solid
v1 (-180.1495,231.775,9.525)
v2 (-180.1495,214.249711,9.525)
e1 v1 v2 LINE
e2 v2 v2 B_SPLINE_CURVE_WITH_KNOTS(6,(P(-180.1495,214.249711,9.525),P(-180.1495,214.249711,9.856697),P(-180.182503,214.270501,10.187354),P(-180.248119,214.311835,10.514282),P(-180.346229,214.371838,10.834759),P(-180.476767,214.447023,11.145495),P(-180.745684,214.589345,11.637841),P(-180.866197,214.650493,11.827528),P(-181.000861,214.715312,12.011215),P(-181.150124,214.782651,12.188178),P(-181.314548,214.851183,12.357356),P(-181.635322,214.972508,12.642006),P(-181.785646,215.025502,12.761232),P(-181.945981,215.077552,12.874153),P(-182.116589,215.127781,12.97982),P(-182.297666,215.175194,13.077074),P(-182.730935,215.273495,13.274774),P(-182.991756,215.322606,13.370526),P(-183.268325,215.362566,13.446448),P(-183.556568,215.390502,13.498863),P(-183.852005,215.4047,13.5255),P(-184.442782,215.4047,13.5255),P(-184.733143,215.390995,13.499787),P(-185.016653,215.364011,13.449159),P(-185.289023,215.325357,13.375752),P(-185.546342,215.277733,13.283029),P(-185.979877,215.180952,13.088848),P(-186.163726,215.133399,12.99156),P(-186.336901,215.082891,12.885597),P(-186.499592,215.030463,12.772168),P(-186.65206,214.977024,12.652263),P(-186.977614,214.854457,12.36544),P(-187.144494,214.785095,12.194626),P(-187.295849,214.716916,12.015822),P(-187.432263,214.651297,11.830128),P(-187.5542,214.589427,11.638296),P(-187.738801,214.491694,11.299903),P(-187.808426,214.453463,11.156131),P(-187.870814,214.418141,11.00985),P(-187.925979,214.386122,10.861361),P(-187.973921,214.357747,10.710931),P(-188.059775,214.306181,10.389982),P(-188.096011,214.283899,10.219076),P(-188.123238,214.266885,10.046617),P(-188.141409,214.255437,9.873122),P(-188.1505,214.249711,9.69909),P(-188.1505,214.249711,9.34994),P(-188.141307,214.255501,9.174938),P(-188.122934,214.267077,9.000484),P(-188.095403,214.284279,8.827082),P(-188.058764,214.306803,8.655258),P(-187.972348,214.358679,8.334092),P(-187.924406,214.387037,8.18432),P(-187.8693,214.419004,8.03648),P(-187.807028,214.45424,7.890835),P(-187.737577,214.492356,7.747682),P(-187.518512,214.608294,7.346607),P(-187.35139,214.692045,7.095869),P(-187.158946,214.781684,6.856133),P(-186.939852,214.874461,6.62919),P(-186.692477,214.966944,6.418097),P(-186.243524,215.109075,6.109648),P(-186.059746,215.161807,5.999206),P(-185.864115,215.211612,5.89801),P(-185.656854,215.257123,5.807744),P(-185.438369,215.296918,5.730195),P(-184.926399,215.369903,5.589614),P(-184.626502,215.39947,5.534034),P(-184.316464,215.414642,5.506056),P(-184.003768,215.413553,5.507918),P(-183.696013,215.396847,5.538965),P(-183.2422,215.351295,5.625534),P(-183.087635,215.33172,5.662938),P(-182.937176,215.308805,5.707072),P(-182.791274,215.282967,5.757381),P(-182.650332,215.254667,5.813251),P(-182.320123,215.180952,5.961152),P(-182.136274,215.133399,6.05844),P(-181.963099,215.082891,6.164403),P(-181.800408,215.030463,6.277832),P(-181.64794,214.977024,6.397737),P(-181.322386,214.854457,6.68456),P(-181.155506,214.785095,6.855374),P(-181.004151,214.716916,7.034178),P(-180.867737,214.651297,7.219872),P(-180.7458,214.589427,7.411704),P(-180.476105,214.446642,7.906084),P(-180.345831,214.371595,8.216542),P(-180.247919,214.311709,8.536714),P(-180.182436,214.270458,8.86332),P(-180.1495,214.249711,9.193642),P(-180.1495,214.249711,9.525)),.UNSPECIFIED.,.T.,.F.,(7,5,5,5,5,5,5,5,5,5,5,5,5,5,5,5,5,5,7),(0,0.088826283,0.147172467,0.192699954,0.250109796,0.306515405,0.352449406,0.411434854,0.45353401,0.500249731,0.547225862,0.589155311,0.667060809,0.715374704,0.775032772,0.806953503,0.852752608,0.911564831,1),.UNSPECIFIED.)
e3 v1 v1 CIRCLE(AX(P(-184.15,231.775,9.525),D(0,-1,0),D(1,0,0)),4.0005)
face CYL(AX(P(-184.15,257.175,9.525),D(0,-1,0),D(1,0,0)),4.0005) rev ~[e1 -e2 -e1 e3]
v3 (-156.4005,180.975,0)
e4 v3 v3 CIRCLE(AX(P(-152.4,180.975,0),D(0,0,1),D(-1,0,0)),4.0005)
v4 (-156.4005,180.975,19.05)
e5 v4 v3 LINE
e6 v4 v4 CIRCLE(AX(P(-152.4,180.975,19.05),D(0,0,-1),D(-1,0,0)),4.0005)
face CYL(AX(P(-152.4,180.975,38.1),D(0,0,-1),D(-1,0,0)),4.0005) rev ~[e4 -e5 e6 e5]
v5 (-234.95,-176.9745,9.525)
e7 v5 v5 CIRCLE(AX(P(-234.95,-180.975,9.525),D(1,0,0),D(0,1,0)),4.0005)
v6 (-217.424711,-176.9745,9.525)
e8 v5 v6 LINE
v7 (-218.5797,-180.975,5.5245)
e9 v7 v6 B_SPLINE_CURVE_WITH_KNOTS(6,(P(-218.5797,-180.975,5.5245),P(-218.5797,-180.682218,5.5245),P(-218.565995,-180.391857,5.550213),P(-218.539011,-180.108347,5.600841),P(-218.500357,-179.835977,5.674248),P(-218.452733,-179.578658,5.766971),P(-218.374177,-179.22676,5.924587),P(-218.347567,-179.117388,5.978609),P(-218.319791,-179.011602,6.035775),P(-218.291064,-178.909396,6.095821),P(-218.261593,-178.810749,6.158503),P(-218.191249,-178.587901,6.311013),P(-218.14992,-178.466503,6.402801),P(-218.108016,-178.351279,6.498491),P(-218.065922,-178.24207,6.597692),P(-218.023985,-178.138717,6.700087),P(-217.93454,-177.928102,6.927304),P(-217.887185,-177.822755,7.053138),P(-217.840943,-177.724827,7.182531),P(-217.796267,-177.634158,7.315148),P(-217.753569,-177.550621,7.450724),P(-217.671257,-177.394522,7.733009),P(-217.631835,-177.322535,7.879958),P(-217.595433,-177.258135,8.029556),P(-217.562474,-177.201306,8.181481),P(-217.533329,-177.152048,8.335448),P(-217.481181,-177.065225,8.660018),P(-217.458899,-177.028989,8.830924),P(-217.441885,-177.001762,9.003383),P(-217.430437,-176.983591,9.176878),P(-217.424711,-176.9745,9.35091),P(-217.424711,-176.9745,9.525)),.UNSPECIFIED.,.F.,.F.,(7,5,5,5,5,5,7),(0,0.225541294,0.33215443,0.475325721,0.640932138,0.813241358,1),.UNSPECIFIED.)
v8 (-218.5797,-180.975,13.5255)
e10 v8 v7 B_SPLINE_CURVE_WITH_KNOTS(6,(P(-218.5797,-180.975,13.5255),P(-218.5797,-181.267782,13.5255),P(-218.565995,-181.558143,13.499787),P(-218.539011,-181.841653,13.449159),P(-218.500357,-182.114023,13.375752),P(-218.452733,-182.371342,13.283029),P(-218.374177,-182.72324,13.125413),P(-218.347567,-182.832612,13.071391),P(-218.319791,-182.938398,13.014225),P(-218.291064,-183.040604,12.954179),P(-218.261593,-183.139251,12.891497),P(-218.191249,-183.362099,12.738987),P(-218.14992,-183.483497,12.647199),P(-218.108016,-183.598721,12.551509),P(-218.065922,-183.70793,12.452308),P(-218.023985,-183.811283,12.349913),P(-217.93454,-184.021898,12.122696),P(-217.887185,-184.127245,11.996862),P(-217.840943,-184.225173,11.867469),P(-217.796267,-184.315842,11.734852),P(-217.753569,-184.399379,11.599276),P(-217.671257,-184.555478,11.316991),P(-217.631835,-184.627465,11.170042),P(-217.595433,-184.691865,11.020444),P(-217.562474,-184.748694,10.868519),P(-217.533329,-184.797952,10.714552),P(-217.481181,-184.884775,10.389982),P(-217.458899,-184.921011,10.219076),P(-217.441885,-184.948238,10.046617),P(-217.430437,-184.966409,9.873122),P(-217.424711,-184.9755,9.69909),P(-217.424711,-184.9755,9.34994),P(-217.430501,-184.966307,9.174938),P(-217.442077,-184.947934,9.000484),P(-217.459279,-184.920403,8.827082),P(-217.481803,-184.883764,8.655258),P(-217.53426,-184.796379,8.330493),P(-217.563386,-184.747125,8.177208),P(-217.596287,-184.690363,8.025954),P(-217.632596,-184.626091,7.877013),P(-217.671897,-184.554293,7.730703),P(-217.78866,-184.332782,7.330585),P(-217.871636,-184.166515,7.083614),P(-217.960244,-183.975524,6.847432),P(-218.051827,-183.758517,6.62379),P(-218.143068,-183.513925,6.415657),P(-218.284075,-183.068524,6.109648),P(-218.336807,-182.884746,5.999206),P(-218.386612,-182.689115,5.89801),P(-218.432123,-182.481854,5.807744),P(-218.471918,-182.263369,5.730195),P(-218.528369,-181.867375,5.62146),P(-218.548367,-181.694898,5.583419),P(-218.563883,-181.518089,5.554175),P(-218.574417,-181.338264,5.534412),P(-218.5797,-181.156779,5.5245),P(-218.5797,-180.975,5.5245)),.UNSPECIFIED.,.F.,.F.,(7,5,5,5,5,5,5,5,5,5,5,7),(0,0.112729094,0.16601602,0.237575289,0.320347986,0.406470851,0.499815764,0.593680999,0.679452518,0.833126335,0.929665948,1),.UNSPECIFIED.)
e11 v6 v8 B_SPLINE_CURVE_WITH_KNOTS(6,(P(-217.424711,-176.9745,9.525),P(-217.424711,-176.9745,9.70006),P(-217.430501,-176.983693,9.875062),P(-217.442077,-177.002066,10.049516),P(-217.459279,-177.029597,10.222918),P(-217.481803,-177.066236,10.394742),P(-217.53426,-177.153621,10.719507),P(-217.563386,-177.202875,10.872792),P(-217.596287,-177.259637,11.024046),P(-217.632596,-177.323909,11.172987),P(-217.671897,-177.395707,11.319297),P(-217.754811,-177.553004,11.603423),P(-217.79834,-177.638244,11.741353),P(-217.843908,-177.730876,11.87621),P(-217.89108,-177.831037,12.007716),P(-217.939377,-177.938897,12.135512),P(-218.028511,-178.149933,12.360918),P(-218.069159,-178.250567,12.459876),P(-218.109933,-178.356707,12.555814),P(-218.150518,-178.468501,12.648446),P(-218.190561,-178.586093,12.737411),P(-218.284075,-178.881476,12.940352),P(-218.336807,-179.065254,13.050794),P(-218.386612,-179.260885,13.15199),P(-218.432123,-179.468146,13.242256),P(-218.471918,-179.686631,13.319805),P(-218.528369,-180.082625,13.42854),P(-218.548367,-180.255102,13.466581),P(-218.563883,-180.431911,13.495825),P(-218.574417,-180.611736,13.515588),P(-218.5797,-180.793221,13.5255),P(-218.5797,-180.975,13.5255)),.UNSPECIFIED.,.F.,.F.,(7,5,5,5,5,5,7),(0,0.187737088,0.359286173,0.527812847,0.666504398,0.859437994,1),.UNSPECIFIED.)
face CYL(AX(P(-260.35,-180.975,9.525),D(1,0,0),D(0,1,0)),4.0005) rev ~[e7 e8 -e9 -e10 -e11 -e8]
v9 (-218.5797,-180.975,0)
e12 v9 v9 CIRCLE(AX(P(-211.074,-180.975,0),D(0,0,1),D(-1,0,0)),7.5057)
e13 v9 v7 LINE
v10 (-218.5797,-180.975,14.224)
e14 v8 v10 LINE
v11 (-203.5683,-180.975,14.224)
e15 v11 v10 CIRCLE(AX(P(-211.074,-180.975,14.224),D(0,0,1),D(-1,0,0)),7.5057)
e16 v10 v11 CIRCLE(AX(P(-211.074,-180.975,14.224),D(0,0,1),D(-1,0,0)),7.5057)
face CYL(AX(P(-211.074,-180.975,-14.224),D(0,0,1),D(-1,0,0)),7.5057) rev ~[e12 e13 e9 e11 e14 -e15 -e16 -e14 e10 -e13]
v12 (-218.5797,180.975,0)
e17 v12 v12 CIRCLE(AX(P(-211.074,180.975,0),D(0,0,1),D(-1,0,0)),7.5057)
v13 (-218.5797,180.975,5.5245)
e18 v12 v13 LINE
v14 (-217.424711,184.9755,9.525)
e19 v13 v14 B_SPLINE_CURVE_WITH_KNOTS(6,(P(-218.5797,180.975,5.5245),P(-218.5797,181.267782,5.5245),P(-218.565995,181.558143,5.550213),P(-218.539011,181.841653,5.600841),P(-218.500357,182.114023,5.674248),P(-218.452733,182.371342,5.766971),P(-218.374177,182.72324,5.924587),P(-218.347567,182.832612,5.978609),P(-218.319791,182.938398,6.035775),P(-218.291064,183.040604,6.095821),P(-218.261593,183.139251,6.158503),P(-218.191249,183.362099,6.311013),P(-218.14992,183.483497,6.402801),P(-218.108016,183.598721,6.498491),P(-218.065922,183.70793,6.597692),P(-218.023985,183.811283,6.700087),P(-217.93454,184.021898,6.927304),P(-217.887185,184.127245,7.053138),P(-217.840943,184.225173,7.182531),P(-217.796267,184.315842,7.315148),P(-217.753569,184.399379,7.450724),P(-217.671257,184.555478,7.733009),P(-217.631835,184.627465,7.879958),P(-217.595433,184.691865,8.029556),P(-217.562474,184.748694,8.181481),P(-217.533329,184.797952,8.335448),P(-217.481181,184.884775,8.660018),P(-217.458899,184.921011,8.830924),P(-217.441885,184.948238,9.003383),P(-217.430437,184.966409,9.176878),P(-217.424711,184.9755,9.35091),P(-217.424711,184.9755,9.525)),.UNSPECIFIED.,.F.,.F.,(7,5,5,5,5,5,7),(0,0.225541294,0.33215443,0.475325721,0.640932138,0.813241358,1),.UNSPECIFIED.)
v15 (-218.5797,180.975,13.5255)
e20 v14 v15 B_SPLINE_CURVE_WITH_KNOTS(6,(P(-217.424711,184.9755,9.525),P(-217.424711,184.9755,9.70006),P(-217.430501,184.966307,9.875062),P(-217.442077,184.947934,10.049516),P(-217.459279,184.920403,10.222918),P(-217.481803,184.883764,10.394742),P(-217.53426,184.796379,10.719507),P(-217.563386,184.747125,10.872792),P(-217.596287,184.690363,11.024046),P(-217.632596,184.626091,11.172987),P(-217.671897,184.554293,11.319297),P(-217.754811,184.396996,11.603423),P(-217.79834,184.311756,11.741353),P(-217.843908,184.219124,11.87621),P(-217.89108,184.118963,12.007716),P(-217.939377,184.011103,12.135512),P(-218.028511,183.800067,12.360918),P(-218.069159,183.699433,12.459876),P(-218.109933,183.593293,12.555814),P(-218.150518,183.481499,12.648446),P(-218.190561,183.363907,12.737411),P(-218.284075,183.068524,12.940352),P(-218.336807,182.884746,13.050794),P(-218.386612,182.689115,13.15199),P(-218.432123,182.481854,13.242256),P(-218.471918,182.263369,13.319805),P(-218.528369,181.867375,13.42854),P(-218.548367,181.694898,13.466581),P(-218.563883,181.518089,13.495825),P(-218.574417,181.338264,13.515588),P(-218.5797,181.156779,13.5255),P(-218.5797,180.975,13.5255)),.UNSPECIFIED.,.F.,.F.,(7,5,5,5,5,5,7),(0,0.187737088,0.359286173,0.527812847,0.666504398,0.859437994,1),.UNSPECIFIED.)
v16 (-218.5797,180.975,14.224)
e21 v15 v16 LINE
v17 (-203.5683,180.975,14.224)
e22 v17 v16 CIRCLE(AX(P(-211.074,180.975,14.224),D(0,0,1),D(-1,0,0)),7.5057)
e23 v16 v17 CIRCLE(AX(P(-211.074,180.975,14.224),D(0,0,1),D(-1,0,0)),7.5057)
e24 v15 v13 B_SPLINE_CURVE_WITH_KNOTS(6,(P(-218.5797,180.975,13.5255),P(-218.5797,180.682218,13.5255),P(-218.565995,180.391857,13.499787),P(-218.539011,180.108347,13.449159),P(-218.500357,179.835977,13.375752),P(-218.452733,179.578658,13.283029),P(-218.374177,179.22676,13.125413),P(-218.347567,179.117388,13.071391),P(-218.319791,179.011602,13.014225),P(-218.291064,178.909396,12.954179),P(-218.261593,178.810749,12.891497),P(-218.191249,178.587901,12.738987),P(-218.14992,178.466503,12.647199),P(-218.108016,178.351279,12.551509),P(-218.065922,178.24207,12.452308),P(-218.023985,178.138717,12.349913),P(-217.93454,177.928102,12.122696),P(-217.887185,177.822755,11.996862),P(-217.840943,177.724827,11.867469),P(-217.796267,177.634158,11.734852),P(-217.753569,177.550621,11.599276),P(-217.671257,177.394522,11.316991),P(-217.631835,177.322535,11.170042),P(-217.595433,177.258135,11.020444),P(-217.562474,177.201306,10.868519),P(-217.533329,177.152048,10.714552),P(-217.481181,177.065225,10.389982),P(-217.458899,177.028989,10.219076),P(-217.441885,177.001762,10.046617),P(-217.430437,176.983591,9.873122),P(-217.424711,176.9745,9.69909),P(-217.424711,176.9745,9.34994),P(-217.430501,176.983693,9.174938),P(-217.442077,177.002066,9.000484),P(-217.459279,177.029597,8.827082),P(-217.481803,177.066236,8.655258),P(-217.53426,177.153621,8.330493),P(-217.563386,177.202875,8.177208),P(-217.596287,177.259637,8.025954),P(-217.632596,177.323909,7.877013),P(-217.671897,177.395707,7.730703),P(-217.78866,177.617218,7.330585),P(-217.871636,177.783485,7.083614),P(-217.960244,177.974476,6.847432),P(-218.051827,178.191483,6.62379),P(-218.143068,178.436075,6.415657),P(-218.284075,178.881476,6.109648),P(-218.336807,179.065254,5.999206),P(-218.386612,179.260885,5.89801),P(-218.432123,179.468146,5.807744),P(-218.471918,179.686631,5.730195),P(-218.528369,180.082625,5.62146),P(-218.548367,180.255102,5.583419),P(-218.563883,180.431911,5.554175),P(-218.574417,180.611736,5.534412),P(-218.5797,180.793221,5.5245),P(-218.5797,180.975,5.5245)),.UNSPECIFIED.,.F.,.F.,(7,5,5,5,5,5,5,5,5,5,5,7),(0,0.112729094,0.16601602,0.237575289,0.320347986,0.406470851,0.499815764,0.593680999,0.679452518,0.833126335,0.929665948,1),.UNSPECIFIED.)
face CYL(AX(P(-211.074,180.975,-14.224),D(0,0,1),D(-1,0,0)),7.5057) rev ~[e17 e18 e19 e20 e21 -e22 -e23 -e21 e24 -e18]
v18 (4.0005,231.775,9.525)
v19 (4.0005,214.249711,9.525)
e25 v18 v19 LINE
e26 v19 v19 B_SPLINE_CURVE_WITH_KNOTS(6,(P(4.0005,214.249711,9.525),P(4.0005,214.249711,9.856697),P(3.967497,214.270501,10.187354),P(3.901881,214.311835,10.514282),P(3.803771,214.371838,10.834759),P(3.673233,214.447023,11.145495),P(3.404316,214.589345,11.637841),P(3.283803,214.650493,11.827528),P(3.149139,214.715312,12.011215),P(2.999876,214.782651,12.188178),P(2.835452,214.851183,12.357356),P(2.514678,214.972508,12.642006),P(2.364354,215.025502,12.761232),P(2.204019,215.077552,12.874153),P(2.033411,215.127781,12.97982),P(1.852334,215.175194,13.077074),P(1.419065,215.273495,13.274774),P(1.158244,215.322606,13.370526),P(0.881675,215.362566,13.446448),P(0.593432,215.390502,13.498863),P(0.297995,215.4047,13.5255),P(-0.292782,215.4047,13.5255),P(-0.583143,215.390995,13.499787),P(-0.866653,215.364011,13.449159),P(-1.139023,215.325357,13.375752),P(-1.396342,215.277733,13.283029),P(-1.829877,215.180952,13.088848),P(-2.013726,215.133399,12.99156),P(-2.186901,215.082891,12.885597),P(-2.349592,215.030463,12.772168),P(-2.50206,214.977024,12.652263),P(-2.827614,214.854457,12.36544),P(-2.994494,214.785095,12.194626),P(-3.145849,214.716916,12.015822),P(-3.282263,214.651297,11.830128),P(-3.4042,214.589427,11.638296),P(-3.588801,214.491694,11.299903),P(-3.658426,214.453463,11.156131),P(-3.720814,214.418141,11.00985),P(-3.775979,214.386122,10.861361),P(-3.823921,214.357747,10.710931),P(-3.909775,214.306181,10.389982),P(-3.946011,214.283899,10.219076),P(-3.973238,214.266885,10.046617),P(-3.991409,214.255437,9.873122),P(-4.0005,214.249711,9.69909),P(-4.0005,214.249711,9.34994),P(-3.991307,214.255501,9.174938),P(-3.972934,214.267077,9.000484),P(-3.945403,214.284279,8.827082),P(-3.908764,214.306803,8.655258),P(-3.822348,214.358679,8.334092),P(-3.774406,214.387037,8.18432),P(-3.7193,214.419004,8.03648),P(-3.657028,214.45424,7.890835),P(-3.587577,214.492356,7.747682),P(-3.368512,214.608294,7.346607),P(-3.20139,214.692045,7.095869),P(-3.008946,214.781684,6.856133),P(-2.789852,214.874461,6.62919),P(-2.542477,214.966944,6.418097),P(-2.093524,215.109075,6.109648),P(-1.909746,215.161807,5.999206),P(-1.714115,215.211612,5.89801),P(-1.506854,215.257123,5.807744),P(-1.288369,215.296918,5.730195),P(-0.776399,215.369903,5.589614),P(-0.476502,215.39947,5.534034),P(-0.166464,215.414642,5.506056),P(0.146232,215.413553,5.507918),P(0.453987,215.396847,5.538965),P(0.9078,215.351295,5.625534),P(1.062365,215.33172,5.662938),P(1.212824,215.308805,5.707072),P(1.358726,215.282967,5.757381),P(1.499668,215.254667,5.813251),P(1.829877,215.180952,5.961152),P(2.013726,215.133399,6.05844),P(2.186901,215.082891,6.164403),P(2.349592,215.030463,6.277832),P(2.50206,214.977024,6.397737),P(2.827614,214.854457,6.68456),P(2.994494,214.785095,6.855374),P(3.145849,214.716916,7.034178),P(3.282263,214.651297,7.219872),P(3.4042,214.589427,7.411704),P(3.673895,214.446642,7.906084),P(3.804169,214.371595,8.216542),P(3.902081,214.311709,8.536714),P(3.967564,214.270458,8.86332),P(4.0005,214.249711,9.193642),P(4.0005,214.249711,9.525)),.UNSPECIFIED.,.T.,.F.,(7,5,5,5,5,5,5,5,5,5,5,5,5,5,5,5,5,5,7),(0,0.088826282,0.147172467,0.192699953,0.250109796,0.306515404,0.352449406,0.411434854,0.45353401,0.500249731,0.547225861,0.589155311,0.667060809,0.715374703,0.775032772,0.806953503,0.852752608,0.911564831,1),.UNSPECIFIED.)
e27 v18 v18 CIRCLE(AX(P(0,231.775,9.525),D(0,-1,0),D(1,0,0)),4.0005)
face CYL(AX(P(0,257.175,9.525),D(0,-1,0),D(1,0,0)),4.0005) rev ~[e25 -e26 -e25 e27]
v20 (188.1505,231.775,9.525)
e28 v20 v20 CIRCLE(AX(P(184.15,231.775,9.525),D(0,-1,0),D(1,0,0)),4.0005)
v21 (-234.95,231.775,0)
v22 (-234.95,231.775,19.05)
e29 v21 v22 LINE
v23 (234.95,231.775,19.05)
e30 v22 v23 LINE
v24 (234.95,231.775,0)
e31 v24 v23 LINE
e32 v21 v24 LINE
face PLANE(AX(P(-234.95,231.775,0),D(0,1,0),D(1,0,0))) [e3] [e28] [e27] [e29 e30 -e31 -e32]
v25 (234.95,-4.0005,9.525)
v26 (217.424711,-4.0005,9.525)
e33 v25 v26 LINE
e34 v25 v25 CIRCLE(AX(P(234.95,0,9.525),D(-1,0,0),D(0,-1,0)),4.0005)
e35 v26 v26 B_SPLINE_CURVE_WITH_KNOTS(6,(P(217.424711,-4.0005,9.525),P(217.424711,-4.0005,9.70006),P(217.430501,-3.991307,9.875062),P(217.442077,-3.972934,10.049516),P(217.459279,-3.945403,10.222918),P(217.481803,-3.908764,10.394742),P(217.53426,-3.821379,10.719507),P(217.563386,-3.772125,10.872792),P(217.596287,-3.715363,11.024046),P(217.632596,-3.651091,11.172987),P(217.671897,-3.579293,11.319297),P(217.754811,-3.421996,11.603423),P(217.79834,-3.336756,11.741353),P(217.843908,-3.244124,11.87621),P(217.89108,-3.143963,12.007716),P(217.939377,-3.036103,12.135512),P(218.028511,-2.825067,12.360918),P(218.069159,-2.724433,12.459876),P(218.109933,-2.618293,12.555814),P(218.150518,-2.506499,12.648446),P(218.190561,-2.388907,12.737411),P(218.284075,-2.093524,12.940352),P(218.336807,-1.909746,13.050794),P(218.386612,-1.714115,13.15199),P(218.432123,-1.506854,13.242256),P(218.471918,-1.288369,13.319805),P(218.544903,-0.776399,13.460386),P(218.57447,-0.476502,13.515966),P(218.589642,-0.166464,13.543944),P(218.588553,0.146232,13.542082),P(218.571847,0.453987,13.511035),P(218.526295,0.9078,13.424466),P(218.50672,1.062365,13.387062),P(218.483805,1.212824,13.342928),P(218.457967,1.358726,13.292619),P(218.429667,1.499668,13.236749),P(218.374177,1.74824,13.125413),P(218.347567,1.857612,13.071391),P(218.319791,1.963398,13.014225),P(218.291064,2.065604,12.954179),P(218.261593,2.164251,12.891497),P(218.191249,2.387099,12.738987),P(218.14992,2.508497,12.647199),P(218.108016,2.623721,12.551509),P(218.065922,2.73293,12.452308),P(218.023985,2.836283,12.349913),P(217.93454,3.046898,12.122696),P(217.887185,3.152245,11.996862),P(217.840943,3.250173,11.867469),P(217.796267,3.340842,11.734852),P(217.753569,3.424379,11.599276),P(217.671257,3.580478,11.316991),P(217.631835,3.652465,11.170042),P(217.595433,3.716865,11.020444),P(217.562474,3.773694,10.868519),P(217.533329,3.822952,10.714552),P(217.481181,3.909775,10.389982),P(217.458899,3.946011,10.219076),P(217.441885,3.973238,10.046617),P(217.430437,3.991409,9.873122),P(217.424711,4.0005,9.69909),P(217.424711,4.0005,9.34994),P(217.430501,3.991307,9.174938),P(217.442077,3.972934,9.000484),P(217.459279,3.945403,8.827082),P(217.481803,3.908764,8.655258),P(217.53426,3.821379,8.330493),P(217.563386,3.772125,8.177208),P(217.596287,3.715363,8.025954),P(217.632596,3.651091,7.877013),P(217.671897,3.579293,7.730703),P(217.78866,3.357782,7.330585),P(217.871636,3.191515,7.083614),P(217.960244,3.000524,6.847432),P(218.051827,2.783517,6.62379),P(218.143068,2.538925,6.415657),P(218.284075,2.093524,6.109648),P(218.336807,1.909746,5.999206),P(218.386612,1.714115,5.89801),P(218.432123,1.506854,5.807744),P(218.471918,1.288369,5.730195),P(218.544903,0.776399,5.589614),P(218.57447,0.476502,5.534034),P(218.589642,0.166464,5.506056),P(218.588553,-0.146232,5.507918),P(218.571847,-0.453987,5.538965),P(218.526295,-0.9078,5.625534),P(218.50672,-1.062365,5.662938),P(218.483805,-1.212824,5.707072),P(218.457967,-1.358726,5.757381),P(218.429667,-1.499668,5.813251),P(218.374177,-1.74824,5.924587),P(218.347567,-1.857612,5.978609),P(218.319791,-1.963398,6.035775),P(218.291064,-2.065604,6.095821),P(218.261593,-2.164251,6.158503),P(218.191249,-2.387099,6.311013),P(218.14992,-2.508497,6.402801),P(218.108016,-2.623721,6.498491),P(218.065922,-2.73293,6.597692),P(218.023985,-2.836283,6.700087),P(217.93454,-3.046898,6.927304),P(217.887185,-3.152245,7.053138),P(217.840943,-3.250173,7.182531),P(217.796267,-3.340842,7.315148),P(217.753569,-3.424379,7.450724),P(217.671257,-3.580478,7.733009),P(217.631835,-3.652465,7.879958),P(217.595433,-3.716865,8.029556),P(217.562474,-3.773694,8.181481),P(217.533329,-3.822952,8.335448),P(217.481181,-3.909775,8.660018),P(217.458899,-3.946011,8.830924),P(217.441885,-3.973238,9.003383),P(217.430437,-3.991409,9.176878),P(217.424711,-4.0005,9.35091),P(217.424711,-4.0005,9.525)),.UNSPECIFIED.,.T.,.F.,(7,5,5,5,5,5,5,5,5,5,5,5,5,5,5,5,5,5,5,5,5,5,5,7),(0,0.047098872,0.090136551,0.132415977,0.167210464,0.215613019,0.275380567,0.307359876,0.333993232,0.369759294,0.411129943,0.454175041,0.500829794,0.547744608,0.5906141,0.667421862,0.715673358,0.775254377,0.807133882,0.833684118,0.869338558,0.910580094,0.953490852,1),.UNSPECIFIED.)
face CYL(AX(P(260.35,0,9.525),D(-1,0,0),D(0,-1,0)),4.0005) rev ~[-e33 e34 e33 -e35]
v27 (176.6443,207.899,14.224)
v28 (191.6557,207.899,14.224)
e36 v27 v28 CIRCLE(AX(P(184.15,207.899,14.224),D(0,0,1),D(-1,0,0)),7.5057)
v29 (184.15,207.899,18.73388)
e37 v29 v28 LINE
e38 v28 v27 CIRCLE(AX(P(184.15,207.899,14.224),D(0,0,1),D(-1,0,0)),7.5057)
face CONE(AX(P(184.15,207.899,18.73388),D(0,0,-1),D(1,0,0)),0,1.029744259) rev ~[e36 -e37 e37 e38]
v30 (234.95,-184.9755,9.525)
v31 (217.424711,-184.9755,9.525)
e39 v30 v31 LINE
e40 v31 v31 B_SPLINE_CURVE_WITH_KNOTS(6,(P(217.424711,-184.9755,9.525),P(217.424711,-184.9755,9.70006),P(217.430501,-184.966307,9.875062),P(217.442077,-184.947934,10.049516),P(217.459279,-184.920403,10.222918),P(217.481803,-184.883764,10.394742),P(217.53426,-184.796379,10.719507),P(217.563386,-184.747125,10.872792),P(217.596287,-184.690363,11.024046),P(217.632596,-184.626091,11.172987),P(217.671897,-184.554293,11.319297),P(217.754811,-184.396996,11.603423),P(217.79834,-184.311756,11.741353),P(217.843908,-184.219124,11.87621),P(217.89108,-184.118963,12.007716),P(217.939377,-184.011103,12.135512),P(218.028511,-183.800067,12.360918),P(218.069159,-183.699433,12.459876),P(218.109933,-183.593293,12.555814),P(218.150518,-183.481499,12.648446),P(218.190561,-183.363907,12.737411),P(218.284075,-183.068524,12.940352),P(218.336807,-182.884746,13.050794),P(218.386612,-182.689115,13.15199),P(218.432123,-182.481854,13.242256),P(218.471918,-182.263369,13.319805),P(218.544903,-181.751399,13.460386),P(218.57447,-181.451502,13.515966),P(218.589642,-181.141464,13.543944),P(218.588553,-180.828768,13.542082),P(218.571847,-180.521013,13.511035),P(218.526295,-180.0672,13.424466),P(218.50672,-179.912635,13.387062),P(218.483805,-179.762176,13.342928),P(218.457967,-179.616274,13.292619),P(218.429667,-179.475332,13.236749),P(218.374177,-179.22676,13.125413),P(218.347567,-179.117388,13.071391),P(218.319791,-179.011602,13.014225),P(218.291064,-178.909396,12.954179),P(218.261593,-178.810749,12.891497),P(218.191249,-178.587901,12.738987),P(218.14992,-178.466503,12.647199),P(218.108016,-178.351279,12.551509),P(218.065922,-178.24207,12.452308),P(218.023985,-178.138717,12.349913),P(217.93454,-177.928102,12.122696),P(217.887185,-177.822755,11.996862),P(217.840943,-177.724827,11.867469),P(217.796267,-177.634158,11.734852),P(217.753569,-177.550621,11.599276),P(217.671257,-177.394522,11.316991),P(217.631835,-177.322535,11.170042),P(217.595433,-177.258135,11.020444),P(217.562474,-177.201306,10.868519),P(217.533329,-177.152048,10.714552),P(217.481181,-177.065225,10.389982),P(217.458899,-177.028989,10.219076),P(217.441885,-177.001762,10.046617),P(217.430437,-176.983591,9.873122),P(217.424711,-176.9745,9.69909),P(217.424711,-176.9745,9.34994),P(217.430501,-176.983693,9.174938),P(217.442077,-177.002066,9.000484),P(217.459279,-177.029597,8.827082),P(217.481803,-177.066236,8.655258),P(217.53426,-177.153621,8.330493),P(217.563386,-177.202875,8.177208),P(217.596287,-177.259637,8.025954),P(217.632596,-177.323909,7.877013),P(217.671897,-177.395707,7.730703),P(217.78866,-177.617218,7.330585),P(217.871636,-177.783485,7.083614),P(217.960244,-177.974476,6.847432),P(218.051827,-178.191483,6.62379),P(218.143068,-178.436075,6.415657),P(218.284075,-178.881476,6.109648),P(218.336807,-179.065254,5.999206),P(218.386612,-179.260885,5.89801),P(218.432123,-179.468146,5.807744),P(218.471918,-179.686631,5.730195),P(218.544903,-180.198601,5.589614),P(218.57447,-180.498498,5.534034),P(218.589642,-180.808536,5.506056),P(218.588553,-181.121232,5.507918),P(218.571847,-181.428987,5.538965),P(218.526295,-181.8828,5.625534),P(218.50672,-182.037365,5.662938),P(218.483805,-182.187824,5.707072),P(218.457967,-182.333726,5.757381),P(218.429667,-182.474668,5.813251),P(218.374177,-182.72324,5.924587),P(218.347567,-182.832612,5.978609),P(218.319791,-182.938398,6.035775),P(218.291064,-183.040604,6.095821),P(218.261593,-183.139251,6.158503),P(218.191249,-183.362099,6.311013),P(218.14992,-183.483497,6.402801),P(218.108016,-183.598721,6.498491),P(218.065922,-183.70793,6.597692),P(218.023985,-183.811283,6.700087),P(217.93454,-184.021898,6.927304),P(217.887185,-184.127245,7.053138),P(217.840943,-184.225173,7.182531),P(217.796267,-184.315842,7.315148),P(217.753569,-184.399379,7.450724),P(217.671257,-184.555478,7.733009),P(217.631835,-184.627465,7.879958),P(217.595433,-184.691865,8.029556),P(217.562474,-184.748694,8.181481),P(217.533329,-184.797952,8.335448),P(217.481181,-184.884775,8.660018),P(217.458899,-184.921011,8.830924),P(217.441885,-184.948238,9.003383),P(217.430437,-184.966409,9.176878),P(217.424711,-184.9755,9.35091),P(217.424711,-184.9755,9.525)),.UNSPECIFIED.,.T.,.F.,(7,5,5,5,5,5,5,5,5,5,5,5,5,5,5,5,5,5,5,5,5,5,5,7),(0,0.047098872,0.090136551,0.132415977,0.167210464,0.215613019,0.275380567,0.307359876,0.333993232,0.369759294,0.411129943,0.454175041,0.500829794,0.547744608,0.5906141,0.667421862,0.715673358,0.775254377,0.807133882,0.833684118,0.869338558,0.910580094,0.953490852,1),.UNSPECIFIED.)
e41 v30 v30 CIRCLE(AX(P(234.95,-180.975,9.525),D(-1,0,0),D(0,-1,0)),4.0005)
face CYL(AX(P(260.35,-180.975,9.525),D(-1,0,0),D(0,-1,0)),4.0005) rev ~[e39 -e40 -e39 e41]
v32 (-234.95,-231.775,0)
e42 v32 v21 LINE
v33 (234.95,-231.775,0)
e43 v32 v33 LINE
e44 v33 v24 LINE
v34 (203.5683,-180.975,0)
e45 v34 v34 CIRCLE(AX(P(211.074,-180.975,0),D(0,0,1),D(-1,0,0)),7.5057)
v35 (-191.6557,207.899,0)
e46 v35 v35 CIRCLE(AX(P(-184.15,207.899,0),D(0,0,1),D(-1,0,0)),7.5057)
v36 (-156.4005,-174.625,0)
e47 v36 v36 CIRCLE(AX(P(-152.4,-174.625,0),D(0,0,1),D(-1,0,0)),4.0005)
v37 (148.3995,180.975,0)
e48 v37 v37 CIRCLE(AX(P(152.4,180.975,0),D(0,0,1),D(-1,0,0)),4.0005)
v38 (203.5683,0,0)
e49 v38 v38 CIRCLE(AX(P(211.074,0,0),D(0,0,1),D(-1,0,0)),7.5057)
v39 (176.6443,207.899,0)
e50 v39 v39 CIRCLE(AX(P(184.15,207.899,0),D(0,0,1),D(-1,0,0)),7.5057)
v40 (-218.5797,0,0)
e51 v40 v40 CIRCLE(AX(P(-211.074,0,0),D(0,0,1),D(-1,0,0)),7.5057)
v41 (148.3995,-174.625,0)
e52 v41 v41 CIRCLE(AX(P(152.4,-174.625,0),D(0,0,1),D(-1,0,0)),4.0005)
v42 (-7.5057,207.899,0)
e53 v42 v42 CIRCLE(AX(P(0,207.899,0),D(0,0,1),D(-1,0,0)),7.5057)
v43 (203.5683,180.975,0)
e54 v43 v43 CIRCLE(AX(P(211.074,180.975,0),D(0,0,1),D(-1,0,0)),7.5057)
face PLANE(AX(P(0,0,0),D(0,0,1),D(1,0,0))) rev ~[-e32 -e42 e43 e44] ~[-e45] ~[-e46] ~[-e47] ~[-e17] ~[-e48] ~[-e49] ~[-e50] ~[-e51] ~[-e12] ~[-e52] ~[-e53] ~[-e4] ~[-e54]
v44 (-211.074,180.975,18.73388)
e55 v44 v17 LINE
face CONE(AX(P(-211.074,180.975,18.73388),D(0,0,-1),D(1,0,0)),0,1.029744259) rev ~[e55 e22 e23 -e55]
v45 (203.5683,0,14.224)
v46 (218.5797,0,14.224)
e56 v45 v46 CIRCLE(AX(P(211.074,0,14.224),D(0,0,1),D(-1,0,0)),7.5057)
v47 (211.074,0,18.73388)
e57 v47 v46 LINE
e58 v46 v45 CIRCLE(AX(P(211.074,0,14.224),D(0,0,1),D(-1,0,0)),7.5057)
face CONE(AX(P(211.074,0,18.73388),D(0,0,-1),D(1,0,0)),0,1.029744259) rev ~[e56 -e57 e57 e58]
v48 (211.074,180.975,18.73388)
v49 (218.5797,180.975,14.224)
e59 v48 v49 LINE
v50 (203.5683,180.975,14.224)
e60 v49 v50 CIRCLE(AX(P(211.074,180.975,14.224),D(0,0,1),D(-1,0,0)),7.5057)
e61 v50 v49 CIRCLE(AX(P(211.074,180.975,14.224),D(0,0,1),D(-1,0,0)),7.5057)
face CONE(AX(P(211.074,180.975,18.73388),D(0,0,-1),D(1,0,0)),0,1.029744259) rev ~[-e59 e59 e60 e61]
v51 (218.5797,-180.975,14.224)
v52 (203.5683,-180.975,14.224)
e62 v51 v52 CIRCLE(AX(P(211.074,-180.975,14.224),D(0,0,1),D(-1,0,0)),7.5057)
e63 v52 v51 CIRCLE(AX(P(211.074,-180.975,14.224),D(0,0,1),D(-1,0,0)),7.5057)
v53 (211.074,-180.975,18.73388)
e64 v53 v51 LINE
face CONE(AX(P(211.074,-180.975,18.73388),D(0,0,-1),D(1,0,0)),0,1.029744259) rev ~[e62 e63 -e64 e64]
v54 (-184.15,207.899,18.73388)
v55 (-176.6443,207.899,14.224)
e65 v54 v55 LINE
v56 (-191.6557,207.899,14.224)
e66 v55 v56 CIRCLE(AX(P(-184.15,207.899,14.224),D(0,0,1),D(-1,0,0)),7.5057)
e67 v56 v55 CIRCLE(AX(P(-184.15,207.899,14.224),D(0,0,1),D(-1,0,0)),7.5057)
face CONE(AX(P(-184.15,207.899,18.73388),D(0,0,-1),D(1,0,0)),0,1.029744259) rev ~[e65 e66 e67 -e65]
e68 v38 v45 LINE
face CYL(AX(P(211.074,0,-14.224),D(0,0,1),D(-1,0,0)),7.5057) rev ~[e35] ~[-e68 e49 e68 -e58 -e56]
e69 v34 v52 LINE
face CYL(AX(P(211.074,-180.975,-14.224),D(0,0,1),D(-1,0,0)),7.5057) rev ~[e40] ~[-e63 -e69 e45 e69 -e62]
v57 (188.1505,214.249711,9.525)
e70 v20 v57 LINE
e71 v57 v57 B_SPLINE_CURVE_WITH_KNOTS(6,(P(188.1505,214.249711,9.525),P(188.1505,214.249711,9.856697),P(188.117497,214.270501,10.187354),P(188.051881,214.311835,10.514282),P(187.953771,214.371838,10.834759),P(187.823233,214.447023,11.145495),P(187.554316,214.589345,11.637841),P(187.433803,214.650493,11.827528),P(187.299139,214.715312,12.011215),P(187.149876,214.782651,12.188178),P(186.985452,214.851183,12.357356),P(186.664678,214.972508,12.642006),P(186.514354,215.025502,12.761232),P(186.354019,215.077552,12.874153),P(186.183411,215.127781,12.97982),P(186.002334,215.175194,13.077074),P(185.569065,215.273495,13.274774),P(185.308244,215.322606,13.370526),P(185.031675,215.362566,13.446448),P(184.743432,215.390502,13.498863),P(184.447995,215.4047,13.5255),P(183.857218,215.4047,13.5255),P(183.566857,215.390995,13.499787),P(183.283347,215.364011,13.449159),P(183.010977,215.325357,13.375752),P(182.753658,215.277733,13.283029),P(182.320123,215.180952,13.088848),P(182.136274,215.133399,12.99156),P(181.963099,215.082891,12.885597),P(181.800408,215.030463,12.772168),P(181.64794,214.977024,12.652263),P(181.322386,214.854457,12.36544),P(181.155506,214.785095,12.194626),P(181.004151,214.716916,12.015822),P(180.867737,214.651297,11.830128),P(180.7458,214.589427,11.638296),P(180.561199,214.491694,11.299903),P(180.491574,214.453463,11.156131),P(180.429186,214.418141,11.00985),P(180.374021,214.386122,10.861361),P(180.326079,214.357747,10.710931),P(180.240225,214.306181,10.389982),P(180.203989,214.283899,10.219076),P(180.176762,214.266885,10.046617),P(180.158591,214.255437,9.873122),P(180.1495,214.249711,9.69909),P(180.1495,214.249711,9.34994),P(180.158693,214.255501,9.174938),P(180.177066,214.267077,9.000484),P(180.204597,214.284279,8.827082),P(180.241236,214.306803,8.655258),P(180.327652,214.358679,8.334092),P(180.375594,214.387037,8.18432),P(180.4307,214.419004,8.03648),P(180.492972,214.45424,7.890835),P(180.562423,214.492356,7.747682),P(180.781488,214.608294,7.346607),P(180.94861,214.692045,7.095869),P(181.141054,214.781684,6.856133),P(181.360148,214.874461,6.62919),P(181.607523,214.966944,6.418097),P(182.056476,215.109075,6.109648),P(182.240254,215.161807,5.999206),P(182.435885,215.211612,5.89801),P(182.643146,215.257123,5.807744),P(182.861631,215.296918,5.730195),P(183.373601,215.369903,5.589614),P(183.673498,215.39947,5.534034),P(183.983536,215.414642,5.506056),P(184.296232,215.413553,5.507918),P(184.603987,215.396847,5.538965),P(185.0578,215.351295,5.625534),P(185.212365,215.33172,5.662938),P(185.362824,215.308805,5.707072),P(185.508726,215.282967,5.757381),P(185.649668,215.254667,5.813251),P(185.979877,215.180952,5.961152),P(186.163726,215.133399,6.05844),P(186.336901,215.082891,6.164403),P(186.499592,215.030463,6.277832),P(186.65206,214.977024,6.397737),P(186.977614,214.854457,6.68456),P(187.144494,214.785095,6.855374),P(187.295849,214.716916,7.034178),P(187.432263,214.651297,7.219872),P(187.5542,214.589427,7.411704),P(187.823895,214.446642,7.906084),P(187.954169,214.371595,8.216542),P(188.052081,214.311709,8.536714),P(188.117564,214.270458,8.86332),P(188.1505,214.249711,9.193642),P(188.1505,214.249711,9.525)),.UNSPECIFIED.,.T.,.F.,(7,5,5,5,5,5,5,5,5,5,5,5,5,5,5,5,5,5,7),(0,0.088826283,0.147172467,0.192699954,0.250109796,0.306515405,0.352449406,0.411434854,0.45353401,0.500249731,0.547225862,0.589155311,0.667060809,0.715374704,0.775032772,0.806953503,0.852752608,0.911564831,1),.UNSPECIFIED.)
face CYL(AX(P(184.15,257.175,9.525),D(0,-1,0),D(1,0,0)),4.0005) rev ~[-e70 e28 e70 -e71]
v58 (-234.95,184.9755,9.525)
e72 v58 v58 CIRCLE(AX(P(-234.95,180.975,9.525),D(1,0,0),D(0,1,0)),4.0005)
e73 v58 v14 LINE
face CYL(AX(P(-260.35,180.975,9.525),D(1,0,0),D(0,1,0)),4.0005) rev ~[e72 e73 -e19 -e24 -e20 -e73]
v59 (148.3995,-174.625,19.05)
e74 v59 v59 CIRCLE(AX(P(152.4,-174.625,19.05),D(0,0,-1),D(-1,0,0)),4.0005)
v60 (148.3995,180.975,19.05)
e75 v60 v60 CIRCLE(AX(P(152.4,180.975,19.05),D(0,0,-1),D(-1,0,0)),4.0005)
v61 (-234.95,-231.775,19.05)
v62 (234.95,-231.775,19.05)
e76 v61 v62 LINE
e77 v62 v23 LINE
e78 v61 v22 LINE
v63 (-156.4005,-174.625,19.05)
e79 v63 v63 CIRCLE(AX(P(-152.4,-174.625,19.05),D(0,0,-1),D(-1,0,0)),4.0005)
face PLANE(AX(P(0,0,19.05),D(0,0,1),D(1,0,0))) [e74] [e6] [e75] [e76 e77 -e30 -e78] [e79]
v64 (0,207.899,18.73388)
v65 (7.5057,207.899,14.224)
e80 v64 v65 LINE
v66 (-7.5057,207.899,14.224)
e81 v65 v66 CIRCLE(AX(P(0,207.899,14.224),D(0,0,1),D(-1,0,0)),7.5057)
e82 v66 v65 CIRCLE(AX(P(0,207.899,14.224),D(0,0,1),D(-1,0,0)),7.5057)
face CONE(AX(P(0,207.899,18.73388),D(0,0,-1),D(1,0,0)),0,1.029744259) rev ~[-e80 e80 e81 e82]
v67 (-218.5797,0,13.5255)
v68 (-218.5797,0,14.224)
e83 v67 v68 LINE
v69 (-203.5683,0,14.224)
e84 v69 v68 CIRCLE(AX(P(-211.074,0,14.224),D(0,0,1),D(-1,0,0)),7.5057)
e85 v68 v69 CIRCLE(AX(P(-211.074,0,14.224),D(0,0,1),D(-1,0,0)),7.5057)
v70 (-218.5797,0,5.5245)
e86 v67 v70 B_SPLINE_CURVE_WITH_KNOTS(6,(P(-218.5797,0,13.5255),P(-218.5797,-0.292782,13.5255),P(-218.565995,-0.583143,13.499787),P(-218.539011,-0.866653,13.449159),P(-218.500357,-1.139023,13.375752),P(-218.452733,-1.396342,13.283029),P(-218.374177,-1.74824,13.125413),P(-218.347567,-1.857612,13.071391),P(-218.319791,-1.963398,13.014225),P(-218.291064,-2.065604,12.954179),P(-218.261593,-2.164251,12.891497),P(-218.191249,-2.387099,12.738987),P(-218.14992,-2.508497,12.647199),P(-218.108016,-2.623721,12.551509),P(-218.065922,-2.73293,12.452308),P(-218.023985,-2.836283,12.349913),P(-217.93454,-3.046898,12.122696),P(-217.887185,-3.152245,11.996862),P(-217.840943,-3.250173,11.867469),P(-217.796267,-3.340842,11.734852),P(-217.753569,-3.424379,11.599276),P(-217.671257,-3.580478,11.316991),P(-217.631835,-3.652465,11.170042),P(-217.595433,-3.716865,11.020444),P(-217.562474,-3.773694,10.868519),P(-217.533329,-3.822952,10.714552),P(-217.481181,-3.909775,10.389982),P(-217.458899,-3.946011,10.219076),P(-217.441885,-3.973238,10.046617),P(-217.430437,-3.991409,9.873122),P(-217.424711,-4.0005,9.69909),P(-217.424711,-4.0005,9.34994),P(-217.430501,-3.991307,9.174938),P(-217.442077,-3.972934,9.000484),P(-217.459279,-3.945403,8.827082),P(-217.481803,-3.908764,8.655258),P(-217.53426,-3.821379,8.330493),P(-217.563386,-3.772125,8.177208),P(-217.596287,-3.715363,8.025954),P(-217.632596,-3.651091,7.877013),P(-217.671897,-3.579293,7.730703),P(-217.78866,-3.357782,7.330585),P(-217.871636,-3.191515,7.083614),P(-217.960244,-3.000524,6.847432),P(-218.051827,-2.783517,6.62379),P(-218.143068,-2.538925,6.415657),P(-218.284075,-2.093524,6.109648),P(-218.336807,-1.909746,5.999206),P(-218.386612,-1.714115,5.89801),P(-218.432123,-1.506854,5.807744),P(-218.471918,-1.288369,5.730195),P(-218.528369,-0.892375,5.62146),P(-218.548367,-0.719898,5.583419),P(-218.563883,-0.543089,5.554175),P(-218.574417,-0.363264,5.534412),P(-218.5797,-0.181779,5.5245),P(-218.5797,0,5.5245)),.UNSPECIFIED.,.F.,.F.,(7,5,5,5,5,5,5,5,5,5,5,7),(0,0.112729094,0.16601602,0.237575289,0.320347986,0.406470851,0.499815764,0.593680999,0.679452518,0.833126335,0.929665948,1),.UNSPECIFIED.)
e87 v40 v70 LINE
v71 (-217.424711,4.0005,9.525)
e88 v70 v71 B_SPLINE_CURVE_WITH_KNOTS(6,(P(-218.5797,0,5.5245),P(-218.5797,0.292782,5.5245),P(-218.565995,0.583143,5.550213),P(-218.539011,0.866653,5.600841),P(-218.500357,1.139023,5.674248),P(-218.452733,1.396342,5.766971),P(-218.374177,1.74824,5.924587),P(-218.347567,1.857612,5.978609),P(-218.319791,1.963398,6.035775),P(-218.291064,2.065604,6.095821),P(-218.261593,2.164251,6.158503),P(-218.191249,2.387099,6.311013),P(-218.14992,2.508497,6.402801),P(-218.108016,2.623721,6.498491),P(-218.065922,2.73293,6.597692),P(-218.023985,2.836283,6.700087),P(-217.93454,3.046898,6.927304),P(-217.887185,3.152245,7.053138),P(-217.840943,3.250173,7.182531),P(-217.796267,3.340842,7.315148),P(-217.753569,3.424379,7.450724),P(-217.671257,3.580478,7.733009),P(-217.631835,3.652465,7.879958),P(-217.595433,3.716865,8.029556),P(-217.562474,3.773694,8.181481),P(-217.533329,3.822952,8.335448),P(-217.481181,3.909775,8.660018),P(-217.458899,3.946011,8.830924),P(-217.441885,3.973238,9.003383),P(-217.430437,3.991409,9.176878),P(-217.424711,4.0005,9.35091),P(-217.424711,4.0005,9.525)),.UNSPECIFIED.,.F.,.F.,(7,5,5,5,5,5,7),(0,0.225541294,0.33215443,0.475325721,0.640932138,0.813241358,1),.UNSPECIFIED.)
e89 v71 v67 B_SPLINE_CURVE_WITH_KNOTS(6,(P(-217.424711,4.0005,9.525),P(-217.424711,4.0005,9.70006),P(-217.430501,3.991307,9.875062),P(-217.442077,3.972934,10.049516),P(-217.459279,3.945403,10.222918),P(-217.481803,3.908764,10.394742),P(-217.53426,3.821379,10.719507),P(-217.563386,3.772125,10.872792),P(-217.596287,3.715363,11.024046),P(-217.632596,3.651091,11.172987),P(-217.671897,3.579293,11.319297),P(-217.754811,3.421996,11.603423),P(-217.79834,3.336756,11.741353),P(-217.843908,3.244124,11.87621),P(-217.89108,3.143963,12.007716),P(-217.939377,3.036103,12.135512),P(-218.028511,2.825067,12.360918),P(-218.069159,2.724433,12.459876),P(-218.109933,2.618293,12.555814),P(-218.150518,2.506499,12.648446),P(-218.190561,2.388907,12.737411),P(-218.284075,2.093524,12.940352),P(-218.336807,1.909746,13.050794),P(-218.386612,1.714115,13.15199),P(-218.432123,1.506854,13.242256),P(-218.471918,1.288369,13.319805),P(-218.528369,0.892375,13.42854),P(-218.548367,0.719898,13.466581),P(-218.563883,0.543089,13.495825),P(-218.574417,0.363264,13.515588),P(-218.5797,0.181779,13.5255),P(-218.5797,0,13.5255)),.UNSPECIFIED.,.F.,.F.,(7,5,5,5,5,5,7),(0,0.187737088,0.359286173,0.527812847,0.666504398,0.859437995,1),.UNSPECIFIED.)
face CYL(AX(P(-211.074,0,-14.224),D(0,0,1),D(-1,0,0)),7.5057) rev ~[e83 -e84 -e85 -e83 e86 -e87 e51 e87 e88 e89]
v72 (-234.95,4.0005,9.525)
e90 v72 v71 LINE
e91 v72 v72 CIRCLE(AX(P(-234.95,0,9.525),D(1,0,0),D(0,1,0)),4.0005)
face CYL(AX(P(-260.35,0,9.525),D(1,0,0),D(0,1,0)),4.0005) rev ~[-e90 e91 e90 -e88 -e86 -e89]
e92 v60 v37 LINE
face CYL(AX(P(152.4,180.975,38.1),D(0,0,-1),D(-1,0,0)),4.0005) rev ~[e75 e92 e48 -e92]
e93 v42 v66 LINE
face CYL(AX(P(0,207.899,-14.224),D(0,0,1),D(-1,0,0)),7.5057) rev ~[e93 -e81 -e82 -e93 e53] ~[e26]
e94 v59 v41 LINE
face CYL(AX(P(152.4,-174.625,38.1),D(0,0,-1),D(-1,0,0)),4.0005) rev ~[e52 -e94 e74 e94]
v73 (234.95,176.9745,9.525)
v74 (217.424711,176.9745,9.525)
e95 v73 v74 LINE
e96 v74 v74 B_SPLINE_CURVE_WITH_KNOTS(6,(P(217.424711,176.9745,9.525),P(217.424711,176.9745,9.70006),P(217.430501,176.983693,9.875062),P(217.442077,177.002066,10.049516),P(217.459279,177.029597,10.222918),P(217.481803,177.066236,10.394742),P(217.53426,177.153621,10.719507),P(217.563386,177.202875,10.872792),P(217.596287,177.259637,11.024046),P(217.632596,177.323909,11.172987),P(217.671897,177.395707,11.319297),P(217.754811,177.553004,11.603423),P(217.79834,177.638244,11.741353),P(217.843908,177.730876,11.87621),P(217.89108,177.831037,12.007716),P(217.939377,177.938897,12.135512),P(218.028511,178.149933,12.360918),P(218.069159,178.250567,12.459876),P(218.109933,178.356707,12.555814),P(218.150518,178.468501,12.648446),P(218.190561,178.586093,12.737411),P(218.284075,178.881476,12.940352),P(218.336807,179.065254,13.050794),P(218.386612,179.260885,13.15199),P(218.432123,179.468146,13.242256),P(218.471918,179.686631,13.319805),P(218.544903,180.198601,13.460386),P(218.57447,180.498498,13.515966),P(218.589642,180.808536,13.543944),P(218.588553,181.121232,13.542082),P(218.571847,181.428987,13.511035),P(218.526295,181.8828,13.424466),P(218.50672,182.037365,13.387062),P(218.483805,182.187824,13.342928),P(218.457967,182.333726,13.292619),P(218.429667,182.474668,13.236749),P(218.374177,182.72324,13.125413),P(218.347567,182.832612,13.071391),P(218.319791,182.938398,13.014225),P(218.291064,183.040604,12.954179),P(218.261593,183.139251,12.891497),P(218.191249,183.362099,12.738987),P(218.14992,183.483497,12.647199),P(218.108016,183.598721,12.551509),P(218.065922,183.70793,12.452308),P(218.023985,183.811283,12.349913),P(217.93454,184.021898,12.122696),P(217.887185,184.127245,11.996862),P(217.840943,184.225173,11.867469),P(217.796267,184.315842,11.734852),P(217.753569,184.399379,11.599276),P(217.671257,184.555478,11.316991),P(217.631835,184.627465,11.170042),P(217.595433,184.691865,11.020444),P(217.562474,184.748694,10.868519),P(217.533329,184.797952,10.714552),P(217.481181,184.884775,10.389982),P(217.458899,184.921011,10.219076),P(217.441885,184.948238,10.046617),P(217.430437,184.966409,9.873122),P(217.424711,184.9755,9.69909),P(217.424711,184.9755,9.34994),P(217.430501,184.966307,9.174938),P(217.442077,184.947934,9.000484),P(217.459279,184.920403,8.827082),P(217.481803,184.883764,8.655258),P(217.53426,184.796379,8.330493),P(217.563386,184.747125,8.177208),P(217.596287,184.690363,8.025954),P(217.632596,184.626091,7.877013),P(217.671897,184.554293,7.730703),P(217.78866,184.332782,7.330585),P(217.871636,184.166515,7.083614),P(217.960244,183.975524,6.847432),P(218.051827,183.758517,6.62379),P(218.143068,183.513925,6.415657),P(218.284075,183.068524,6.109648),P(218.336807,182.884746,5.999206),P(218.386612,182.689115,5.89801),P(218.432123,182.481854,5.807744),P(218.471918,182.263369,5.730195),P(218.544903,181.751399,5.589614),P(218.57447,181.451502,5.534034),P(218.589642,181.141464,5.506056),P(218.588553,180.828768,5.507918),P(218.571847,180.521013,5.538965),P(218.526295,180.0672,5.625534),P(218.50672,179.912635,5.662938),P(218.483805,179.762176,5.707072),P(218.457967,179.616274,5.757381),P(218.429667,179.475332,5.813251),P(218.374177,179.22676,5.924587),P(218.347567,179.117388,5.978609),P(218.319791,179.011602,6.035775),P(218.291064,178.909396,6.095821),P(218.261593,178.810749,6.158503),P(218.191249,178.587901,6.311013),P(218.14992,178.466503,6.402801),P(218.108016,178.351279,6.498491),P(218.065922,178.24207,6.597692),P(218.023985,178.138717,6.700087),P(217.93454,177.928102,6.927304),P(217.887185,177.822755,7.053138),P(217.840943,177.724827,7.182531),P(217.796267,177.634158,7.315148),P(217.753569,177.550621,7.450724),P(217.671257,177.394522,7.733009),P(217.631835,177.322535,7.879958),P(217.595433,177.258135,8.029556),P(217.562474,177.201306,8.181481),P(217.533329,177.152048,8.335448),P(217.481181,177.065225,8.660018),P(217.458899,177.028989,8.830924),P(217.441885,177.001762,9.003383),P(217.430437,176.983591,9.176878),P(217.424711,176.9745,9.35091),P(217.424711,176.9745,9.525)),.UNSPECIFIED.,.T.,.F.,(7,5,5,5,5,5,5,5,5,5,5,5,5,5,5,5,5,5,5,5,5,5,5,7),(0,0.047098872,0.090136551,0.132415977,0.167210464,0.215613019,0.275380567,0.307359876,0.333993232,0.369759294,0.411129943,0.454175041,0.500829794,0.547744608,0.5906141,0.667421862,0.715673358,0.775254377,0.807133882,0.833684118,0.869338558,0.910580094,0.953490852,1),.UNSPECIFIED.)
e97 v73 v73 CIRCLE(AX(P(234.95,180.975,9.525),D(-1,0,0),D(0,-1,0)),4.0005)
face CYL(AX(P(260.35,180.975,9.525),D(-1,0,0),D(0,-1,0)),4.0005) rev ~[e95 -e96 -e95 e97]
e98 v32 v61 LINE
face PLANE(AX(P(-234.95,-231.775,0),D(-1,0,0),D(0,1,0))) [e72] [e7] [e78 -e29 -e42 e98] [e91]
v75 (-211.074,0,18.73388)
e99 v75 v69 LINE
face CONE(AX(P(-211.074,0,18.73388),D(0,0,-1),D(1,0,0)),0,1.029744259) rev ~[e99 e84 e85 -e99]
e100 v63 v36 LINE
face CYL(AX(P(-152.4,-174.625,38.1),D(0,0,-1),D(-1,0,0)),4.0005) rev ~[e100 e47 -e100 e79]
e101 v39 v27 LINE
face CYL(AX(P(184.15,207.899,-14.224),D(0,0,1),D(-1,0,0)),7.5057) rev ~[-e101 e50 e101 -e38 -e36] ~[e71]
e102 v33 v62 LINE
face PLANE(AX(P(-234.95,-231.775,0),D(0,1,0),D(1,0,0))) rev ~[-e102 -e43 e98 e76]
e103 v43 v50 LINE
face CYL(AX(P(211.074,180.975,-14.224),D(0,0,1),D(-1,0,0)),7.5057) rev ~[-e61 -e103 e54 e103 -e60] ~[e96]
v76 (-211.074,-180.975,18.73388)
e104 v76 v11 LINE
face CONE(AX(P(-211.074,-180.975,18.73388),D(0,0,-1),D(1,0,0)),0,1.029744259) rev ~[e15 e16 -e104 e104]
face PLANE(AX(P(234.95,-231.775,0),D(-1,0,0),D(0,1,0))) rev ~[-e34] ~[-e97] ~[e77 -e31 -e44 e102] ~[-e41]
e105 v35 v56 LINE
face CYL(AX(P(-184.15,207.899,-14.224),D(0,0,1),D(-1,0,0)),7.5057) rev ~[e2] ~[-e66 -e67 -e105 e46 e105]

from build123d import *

# Parameters (mm, degrees)
F0_W      = 469.9
F0_H      = 463.55
F1_DEPTH  = 19.05
F3_D      = 15.0114
F3_DEPTH  = 14.224
F3_TIP    = 4.5098795482
F5_D      = 8.001
F5_DEPTH  = 25.4
F5_TIP    = 2.4037429064
F7_D      = 8.001
F7_DEPTH  = 25.4
F7_TIP    = 2.4037429064
F9_D      = 8.001
F9_DEPTH  = 25.4
F9_TIP    = 2.4037429064
F11_D     = 8.001
F11_DEPTH = 19.05
F11_TIP   = 2.4037429064


with BuildPart() as f1:
    # F0 (on Top) → F1 (new body)
    with BuildSketch(Plane.XY):
        Rectangle(F0_W, F0_H)
    extrude(amount=F1_DEPTH)

    # F3
    with Locations(Plane(origin=(0, 0, 0), x_dir=(1, 0, 0), z_dir=(0, 0, -1))):
        with Locations((-211.074, 180.975), (-211.074, 0), (-211.074, -180.975), (-184.15, -207.899), (0, -207.899), (184.15, -207.899), (211.074, -180.975), (211.074, 0), (211.074, 180.975)):
            Hole(F3_D / 2, depth=F3_DEPTH)
            with Locations((0, 0, -(F3_DEPTH + F3_TIP / 2))):  # 118° drill point
                Cone(0, F3_D / 2, F3_TIP, mode=Mode.SUBTRACT)

    # F5
    with Locations(Plane.YZ.offset(234.95)):
        with Locations((-180.975, 9.525), (0, 9.525), (180.975, 9.525)):
            Hole(F5_D / 2, depth=F5_DEPTH)
            with Locations((0, 0, -(F5_DEPTH + F5_TIP / 2))):  # 118° drill point
                Cone(0, F5_D / 2, F5_TIP, mode=Mode.SUBTRACT)

    # F7
    with Locations(Plane(origin=(0, 231.775, 0), x_dir=(-1, 0, 0), z_dir=(0, 1, 0))):
        with Locations((-184.15, 9.525), (0, 9.525), (184.15, 9.525)):
            Hole(F7_D / 2, depth=F7_DEPTH)
            with Locations((0, 0, -(F7_DEPTH + F7_TIP / 2))):  # 118° drill point
                Cone(0, F7_D / 2, F7_TIP, mode=Mode.SUBTRACT)

    # F9
    with Locations(Plane(origin=(-234.95, 0, 0), x_dir=(0, -1, 0), z_dir=(-1, 0, 0))):
        with Locations((-180.975, 9.525), (0, 9.525), (180.975, 9.525)):
            Hole(F9_D / 2, depth=F9_DEPTH)
            with Locations((0, 0, -(F9_DEPTH + F9_TIP / 2))):  # 118° drill point
                Cone(0, F9_D / 2, F9_TIP, mode=Mode.SUBTRACT)

    # F11
    with Locations(Plane.XY.offset(19.05)):
        with Locations((-152.4, 180.975), (152.4, 180.975), (152.4, -174.625), (-152.4, -174.625)):
            Hole(F11_D / 2, depth=F11_DEPTH)
            with Locations((0, 0, -(F11_DEPTH + F11_TIP / 2))):  # 118° drill point
                Cone(0, F11_D / 2, F11_TIP, mode=Mode.SUBTRACT)


solid = f1.part
